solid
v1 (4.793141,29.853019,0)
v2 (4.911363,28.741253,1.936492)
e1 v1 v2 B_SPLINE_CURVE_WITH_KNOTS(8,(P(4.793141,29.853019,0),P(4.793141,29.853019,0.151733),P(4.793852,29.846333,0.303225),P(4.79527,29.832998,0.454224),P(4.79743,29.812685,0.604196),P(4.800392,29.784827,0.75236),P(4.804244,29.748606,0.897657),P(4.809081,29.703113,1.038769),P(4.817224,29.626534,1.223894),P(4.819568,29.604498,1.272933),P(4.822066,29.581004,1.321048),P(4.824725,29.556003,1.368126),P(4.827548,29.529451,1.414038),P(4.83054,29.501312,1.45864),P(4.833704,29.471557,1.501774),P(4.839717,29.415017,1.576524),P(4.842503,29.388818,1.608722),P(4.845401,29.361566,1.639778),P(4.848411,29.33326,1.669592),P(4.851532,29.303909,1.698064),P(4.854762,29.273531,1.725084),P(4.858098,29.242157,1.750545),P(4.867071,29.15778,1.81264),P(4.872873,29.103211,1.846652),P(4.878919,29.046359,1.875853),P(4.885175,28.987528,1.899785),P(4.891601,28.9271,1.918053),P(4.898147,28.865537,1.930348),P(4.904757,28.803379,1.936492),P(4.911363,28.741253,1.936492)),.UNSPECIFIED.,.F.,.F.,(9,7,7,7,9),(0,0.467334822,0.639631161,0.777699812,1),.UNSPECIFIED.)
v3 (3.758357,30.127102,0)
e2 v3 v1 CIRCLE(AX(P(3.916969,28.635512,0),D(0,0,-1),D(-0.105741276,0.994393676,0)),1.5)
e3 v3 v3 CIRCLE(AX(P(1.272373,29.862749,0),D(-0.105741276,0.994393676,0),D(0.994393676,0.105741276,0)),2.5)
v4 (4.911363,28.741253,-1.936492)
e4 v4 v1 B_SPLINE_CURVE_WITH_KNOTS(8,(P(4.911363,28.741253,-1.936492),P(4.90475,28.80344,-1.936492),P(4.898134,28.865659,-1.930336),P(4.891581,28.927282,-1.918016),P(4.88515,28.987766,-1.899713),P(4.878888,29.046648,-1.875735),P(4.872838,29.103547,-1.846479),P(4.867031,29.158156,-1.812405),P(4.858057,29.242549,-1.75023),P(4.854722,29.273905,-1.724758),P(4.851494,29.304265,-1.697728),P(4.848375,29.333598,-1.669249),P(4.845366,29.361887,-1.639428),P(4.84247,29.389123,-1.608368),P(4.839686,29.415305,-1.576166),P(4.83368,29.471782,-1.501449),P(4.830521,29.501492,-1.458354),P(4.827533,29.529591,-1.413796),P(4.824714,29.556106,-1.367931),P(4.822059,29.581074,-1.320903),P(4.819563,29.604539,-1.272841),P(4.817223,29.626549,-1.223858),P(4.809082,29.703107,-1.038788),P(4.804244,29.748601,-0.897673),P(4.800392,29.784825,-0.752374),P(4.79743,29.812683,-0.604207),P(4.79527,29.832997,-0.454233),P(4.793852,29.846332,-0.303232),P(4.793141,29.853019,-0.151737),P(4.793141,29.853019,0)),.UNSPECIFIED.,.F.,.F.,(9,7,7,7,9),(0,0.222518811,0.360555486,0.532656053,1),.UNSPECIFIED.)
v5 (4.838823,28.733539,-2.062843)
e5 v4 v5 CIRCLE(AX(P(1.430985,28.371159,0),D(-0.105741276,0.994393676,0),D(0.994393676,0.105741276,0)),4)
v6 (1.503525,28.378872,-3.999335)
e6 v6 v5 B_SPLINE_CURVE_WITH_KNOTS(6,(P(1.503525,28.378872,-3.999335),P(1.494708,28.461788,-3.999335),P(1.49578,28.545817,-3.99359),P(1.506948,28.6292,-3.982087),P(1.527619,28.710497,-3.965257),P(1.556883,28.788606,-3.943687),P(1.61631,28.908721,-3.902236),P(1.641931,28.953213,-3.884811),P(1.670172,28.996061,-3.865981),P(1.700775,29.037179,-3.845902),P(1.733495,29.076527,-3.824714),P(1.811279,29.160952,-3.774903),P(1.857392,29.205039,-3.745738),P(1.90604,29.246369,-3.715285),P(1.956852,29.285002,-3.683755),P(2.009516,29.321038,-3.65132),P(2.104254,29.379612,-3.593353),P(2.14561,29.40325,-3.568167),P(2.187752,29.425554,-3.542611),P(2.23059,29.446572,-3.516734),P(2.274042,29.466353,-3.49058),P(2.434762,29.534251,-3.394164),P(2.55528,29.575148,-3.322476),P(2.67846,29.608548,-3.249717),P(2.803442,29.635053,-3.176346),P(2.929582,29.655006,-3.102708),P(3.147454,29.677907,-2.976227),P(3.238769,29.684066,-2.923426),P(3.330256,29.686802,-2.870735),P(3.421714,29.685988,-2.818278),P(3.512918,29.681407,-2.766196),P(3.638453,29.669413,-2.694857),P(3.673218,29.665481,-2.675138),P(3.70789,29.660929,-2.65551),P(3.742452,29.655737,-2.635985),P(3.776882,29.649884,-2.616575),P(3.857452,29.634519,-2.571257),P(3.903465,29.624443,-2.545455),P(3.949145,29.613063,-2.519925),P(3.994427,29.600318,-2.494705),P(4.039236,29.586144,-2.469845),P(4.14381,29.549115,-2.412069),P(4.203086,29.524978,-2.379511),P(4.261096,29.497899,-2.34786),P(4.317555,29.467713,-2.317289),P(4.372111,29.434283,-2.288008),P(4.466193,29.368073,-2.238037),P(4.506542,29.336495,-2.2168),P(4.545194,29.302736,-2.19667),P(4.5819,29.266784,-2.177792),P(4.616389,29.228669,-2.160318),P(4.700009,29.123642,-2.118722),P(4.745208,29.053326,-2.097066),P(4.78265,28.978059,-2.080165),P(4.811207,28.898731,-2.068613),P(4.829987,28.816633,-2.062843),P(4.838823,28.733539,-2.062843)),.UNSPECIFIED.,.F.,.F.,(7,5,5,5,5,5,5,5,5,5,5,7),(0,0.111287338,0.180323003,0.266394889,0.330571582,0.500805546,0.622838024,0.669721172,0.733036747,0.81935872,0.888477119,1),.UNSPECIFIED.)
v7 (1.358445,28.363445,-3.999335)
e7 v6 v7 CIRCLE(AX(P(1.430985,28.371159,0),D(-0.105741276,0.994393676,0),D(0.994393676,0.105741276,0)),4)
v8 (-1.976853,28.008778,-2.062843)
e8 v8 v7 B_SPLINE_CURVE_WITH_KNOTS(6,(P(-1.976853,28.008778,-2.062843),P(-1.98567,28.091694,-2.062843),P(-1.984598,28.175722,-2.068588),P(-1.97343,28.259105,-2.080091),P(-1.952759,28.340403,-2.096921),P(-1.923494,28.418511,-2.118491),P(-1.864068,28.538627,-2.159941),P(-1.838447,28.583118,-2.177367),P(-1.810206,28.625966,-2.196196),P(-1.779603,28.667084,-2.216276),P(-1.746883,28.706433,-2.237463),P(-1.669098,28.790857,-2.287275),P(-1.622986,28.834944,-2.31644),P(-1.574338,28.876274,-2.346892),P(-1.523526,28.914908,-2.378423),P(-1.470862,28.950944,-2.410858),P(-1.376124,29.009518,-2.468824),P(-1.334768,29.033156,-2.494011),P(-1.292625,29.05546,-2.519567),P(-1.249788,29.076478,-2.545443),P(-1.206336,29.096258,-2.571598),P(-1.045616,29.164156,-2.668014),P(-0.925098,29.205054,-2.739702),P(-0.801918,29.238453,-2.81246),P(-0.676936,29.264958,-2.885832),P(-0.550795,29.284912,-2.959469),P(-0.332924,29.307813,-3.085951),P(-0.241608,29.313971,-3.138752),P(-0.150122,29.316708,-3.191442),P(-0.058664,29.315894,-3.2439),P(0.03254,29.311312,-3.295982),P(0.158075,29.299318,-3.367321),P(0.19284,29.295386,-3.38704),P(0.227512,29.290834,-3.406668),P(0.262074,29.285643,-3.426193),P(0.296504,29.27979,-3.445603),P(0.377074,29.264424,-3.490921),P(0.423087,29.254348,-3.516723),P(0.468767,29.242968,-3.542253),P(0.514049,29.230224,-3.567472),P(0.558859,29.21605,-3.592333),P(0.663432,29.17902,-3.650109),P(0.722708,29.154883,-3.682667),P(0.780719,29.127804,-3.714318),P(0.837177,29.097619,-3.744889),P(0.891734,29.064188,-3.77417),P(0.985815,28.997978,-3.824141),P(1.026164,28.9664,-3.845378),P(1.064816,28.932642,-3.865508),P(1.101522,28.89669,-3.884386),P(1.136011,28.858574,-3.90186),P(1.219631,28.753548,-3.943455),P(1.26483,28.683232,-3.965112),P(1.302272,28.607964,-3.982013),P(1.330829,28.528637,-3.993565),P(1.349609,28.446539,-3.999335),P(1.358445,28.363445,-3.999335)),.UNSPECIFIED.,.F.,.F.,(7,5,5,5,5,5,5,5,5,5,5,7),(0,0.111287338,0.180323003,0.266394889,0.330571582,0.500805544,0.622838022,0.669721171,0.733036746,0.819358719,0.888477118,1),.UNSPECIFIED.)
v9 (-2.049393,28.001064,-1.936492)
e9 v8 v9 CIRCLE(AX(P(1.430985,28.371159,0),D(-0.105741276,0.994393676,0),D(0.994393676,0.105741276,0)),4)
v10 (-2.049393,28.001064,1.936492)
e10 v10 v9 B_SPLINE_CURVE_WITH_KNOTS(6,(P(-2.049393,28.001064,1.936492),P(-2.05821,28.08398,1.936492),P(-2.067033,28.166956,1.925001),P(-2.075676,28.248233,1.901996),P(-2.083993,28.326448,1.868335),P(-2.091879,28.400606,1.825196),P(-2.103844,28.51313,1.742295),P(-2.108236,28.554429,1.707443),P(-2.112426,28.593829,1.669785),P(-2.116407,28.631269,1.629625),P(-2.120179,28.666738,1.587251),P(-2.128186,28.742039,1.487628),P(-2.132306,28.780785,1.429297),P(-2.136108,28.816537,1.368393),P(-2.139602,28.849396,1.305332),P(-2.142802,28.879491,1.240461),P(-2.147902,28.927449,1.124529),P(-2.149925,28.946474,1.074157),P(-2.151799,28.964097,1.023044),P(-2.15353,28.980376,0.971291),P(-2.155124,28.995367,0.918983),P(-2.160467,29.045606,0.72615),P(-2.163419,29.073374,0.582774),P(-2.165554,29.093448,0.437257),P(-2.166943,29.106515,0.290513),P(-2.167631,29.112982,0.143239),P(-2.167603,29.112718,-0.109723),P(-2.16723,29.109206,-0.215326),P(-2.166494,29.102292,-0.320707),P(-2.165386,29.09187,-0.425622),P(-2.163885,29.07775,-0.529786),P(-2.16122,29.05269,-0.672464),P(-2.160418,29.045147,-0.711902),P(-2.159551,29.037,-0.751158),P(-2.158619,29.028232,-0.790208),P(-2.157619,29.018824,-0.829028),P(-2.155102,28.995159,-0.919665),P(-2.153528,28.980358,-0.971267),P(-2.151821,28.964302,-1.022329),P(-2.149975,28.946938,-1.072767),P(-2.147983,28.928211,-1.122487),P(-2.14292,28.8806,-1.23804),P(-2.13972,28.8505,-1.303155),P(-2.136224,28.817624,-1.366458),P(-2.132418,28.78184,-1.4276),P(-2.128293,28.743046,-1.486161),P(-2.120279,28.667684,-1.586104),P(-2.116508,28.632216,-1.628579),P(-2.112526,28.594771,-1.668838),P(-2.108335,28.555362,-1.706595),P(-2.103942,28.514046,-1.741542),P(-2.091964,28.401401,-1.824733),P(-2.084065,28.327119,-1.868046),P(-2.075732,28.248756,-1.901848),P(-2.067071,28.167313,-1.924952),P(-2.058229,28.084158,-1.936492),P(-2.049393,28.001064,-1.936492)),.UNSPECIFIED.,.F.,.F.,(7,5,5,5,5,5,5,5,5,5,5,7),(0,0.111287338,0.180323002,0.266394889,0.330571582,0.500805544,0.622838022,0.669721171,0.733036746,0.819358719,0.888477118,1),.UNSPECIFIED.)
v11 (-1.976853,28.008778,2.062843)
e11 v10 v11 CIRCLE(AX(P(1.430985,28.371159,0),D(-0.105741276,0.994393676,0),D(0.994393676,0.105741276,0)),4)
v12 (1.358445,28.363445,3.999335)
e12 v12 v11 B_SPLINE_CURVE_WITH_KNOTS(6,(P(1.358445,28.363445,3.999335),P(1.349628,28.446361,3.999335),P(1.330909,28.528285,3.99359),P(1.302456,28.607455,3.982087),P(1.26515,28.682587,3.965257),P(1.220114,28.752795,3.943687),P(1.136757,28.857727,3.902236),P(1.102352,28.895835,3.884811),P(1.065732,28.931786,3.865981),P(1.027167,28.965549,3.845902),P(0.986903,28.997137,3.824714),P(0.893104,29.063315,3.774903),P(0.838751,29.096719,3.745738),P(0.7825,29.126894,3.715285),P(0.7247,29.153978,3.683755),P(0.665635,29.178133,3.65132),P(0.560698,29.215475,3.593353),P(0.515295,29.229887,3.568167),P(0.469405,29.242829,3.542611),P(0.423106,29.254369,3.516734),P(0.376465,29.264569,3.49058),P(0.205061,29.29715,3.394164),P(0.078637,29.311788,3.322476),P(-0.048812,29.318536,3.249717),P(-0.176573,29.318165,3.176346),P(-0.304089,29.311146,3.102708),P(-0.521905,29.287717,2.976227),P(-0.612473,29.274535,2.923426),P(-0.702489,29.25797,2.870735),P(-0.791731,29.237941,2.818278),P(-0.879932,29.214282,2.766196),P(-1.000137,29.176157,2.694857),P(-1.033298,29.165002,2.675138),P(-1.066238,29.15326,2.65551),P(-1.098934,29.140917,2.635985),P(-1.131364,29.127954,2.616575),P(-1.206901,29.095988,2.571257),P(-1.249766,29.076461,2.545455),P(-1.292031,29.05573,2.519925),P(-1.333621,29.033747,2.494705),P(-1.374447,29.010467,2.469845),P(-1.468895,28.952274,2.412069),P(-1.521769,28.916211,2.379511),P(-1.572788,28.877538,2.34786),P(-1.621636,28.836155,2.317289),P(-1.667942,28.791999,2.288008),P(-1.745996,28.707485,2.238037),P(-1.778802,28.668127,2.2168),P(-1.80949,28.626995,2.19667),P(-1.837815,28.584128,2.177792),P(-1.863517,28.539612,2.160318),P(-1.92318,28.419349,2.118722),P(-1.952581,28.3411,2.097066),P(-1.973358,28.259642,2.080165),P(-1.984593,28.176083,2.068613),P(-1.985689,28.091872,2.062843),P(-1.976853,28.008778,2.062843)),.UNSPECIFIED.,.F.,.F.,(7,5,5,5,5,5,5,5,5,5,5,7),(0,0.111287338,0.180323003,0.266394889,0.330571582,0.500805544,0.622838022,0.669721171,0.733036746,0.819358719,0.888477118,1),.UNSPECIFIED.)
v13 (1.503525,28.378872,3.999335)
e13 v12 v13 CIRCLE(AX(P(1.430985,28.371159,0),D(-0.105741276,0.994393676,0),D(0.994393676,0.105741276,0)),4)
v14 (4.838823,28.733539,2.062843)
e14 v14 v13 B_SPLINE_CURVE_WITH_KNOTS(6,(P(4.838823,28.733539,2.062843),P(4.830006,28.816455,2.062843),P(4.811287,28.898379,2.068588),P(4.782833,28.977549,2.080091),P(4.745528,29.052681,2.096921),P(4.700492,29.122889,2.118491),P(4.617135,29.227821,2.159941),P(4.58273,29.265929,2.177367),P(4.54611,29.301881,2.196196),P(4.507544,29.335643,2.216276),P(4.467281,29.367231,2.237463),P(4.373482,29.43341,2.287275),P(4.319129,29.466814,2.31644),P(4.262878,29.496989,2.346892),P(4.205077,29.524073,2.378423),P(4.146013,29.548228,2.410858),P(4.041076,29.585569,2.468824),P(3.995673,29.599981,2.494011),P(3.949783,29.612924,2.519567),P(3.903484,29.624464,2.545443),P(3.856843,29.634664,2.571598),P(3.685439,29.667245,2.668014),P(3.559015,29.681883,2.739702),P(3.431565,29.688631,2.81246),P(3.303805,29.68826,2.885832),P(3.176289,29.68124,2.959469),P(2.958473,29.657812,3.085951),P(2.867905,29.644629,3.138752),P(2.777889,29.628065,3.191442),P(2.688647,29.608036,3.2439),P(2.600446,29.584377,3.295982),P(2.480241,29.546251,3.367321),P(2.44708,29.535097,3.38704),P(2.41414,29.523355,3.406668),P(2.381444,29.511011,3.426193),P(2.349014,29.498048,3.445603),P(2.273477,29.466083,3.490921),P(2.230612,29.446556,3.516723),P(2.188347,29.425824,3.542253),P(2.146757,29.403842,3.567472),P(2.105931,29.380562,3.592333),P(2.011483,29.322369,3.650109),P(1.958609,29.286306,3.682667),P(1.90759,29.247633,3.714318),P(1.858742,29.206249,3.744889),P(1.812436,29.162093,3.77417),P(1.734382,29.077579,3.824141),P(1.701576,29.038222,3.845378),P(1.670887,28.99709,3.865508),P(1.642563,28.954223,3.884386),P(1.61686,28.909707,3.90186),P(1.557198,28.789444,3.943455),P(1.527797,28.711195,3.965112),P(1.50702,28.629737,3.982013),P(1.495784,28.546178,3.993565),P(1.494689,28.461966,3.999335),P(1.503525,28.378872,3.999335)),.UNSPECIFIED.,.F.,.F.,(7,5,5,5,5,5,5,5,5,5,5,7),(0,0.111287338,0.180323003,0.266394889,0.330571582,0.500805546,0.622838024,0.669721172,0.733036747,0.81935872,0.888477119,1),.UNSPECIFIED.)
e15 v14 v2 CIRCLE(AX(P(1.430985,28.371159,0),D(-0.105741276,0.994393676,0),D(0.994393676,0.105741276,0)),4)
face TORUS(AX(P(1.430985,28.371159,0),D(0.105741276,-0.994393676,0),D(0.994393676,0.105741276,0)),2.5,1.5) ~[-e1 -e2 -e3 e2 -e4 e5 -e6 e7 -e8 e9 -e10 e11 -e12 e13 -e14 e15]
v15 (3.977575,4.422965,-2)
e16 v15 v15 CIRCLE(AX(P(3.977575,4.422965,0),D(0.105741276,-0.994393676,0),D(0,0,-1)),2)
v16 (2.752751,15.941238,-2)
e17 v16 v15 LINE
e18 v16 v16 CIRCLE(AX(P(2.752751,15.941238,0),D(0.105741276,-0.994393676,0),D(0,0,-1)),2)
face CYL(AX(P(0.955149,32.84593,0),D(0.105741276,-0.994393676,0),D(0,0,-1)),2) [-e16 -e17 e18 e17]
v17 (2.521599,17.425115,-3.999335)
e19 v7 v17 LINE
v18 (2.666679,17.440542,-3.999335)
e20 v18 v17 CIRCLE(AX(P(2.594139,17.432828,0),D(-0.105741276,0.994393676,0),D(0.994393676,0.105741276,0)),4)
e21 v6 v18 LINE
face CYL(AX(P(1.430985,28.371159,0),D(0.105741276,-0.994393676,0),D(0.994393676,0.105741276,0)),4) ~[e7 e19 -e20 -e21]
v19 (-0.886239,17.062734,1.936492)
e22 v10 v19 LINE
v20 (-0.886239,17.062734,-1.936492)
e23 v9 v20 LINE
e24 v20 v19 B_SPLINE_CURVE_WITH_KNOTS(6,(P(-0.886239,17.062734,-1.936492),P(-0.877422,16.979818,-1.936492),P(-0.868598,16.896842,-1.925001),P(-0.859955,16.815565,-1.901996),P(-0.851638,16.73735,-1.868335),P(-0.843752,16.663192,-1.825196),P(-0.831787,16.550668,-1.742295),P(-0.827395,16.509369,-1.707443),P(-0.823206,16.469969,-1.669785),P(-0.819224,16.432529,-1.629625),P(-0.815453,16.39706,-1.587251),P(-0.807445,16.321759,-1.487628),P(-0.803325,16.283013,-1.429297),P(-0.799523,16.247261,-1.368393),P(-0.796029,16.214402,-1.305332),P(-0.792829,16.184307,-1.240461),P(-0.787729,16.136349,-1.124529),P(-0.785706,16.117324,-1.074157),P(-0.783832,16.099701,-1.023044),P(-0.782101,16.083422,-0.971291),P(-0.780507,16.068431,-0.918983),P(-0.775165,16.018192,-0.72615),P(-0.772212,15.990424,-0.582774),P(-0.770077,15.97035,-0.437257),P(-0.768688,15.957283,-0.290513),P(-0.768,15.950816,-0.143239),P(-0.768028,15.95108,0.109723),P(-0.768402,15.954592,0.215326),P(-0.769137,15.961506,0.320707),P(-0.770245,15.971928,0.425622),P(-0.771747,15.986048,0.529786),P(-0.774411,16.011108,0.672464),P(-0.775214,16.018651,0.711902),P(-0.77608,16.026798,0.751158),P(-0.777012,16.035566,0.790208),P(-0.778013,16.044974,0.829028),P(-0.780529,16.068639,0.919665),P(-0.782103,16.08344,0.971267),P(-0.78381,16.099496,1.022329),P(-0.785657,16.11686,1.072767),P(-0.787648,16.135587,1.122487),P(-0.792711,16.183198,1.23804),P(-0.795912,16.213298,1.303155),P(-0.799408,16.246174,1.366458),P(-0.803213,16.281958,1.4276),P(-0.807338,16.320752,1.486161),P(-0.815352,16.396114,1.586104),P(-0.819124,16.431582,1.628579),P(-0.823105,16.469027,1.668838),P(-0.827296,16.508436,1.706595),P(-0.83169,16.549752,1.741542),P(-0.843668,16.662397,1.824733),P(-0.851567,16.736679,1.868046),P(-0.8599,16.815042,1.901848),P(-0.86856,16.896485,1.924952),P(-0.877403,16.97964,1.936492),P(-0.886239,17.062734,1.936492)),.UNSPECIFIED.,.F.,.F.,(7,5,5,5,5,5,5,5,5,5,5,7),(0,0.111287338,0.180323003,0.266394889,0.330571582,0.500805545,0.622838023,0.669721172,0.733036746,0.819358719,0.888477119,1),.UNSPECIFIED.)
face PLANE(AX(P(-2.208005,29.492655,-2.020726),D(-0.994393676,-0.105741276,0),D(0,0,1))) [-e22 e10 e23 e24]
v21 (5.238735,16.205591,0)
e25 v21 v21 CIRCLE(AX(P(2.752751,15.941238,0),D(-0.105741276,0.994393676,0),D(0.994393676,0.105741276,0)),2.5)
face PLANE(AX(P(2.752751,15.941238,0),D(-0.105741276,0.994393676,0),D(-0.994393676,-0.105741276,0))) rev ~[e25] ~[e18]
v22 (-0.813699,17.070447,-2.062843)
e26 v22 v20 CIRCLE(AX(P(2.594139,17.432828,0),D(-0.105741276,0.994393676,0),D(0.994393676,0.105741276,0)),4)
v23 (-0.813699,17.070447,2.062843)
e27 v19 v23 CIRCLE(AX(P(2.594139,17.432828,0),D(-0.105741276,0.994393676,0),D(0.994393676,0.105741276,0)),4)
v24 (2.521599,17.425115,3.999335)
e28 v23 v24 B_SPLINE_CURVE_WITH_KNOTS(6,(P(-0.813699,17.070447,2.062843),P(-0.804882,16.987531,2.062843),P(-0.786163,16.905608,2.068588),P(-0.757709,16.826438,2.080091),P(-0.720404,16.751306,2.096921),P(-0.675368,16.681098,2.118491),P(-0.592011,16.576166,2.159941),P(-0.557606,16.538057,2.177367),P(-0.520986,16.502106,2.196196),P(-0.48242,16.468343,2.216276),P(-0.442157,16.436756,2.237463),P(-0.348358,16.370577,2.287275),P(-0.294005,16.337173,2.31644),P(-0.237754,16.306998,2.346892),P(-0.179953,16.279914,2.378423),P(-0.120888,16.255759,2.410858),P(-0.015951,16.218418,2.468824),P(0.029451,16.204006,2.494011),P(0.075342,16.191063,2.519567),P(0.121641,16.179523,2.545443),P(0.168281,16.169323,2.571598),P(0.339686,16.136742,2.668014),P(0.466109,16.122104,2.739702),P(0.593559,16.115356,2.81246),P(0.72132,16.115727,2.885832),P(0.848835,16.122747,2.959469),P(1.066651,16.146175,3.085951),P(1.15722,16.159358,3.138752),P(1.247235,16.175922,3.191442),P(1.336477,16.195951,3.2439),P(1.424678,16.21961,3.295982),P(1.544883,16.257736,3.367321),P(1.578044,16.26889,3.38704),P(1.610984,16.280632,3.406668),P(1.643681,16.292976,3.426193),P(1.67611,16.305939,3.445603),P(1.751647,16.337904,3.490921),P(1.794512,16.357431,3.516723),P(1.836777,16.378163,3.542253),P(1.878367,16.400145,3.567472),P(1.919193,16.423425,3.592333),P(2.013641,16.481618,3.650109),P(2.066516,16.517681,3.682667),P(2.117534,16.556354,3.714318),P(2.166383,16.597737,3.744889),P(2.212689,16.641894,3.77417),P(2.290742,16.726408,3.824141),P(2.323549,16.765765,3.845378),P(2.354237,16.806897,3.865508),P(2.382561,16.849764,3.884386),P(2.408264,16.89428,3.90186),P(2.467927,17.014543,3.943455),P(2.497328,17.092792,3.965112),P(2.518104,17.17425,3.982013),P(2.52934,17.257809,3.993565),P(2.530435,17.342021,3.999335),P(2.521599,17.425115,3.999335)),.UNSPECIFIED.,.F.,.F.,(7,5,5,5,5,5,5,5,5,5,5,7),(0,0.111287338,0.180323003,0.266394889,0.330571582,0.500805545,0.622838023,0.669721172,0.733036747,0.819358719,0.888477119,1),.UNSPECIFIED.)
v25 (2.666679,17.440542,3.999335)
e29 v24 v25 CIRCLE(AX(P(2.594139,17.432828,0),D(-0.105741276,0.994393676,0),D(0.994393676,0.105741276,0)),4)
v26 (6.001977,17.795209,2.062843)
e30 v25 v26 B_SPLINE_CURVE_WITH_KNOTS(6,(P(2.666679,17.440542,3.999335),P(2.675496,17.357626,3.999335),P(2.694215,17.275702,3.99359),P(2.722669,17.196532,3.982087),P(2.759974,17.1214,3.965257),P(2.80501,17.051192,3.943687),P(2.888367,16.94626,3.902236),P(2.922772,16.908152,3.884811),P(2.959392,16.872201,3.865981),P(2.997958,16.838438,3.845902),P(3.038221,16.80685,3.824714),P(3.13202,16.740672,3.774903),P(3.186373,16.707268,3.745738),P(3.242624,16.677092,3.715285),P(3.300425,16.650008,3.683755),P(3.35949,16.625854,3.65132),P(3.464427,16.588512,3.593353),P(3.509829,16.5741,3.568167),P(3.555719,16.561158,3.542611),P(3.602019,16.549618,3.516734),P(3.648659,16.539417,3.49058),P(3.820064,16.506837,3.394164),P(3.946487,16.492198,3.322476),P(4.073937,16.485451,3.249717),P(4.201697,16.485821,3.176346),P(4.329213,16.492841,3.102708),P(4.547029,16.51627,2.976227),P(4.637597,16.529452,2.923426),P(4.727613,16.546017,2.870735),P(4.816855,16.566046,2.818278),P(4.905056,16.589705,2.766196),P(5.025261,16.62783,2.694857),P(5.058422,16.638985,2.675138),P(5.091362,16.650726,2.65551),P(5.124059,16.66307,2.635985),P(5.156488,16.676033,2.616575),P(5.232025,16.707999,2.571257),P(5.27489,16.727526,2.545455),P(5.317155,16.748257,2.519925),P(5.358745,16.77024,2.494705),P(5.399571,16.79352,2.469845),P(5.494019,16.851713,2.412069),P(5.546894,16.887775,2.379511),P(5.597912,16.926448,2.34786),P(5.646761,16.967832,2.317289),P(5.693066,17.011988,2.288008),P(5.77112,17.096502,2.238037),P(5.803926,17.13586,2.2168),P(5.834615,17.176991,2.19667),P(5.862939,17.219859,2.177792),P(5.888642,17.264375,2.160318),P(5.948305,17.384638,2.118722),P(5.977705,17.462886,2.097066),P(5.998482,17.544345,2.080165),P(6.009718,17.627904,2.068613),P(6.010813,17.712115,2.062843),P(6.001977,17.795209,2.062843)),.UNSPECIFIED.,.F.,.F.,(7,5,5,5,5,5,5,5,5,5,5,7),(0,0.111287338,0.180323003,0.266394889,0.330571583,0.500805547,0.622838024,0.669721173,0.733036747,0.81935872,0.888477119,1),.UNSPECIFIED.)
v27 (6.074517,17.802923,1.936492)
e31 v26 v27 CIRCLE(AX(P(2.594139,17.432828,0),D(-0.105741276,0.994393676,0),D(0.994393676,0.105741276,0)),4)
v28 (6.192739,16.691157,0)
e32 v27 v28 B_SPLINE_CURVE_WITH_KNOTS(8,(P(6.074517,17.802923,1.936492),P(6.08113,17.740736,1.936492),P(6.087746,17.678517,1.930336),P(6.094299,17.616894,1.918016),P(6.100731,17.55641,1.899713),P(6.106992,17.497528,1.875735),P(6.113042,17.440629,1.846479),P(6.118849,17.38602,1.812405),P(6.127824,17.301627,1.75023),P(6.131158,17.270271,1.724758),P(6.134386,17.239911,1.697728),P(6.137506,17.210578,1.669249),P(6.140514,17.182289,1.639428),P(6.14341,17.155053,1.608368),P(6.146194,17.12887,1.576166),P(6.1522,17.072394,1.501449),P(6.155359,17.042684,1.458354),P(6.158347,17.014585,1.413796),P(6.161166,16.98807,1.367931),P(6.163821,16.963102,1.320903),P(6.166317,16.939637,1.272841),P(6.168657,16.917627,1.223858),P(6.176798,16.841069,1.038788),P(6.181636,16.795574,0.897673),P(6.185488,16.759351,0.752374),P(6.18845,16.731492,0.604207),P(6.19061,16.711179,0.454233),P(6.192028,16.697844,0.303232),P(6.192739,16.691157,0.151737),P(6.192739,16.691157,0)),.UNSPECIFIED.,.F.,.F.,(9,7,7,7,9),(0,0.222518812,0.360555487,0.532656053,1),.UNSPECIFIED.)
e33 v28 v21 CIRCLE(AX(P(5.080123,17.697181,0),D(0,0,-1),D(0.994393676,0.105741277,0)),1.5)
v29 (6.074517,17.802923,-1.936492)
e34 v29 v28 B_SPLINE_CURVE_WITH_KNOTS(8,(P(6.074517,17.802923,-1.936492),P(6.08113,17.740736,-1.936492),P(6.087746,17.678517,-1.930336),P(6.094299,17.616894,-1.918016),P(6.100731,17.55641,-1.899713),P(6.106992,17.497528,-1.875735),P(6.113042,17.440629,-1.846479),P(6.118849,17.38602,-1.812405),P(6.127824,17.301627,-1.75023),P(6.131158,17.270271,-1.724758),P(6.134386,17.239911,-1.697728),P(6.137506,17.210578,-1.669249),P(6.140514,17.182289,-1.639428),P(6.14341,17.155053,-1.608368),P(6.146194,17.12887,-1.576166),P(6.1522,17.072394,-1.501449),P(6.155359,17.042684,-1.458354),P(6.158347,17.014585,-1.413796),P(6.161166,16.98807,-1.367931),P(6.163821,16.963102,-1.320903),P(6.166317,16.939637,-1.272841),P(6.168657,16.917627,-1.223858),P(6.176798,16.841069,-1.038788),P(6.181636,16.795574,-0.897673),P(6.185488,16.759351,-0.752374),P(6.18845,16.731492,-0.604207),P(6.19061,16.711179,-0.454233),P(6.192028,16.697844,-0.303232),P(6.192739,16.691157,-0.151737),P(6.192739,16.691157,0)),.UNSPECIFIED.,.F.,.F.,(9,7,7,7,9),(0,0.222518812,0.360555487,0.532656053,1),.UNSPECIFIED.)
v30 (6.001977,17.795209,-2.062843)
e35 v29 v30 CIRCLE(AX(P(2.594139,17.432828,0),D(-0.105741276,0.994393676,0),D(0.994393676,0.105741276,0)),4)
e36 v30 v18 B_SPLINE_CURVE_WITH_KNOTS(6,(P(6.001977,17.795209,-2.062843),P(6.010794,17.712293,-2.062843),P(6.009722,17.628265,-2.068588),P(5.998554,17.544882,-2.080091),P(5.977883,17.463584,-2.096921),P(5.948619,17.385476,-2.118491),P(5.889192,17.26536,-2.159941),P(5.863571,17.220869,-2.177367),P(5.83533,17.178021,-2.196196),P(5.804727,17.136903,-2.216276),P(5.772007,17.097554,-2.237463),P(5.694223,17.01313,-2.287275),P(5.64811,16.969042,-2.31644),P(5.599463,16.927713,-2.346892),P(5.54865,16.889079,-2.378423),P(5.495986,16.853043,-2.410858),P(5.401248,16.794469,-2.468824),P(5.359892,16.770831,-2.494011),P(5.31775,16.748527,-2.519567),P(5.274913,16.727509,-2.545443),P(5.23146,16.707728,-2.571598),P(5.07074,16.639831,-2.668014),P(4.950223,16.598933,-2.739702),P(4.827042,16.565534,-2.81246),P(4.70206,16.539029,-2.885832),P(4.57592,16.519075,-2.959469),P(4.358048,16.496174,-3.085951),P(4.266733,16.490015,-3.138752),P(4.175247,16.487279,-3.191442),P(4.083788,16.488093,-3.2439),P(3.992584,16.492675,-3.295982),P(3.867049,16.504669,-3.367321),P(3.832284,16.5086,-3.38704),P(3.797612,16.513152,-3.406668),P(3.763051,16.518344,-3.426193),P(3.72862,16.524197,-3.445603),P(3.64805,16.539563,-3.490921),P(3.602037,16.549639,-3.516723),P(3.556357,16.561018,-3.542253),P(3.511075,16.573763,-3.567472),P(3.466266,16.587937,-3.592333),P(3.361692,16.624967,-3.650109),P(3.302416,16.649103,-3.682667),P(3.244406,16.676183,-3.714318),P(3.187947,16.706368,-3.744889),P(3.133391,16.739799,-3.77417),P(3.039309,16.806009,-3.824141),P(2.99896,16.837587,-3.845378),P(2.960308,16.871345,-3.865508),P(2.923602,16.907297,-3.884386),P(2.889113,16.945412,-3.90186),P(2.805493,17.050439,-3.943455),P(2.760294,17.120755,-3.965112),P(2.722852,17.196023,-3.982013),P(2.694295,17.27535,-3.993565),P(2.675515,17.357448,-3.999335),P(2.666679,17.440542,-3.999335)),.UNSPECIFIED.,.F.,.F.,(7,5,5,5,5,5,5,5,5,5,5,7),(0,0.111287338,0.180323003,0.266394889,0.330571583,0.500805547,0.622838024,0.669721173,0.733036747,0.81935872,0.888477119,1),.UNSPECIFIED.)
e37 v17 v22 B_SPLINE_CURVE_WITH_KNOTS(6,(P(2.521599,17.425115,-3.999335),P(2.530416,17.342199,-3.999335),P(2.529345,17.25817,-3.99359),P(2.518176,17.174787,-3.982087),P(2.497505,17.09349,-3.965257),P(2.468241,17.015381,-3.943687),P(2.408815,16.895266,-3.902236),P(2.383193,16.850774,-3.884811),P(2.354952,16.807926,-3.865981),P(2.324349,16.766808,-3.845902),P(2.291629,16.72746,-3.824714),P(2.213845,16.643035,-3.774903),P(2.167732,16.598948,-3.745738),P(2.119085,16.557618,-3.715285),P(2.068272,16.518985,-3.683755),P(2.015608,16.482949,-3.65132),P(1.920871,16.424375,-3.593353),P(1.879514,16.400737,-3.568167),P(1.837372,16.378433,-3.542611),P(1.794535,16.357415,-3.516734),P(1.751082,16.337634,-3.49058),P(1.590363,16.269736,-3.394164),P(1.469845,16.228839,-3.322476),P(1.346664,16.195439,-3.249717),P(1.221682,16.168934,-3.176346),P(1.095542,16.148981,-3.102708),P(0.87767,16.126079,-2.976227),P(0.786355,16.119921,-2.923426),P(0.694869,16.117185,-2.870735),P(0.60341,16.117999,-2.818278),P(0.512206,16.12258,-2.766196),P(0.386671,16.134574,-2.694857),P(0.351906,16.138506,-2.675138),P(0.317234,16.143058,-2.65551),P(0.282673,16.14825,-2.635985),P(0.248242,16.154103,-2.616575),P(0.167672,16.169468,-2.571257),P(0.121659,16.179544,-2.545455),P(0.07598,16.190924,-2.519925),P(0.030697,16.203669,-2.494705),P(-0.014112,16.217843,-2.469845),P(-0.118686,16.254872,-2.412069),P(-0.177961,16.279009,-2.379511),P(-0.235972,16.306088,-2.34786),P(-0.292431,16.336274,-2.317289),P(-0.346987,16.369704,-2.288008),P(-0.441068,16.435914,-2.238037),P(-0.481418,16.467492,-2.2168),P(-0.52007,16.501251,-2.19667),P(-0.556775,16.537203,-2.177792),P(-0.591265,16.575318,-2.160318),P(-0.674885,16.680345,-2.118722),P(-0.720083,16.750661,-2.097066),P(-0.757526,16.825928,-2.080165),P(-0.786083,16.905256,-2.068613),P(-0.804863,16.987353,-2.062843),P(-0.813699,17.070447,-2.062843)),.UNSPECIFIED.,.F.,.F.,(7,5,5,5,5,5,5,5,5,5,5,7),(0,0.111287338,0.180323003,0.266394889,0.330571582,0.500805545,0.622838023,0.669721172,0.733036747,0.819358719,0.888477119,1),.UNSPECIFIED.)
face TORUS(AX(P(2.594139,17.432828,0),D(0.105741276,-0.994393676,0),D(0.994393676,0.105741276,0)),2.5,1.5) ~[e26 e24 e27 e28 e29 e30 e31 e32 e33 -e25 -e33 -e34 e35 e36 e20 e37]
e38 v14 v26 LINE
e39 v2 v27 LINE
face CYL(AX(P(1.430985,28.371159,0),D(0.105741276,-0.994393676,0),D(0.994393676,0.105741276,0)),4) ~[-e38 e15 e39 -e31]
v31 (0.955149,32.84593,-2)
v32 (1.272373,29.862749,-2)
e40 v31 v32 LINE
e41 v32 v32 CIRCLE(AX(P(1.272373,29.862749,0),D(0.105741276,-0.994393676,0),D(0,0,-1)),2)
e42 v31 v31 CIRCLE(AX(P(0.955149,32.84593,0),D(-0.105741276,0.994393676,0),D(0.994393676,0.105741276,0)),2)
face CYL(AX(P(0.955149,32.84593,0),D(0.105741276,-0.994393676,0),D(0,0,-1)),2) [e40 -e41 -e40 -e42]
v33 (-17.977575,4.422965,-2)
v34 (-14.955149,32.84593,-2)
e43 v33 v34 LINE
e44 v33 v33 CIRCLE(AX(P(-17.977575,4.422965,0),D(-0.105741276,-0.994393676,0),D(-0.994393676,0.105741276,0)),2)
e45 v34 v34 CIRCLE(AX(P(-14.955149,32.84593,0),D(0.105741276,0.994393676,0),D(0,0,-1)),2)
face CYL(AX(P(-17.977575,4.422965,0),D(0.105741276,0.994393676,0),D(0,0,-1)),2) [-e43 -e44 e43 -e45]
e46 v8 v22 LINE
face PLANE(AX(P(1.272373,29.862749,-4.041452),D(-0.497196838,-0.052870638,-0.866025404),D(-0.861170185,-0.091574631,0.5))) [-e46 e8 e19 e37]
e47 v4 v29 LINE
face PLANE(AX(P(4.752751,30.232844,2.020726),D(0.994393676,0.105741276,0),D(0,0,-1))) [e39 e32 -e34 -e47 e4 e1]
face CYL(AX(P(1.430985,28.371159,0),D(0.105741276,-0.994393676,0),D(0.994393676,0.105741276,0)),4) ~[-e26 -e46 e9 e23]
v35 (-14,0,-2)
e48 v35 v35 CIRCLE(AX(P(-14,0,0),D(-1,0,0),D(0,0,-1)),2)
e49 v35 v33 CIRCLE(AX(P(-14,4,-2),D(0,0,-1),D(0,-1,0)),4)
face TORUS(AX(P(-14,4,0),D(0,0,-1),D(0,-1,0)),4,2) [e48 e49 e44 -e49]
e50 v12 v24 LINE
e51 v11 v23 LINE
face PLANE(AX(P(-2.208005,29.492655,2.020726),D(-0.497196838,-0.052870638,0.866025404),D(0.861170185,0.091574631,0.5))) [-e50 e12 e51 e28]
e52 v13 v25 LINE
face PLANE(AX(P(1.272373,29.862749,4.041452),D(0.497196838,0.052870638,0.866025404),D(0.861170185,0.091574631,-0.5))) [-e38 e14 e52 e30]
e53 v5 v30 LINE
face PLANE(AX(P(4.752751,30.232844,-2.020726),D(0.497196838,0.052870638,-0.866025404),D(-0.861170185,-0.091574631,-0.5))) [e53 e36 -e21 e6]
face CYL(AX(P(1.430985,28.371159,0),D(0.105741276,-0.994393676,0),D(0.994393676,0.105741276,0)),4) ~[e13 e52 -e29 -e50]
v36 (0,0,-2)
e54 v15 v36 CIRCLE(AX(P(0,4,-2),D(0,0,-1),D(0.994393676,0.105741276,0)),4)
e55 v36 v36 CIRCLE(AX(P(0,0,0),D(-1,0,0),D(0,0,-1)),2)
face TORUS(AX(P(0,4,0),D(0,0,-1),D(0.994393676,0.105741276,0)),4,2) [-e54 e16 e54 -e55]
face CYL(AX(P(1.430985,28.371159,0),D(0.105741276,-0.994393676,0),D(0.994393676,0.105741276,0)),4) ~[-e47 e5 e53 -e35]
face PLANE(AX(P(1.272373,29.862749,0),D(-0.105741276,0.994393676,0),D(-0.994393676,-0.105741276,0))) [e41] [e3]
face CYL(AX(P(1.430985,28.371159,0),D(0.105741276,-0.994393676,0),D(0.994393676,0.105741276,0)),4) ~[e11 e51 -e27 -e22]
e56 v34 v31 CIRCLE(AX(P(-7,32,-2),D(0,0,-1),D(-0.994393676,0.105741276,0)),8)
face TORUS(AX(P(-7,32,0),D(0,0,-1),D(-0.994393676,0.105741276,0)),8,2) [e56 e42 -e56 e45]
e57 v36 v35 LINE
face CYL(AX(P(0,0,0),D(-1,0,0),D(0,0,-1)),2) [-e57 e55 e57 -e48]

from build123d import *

# Parameters (mm, degrees)
SKETCH1_R           = 2
BOSS_EXTRUDE1_START = -3
BOSS_EXTRUDE1_DEPTH = 14


with BuildPart() as part:
    # Sweep1: sweep along a path in Sketch2
    with BuildLine(Plane.XY) as sweep1_path:
        Line((0, 0), (-14, 0))
        ThreePointArc((-14, 0), (-16.974210855, 1.325290709), (-17.977574703, 4.422965104))
        Line((-17.977574703, 4.422965104), (-14.955149407, 32.845930209))
        ThreePointArc((-14.955149407, 32.845930209), (-7, 40), (0.955149407, 32.845930209))
        Line((0.955149407, 32.845930209), (3.977574703, 4.422965104))
        ThreePointArc((3.977574703, 4.422965104), (2.974210855, 1.325290709), (0, 0))
    # Sketch1 → Sweep1 (sweep)
    with BuildSketch(Plane(origin=(0, 0, 0), x_dir=(0, 0, -1), z_dir=(1, 0, 0))):
        Circle(SKETCH1_R)
    sweep(path=sweep1_path.line)

    # Sketch3 → Boss-Extrude1 (add)
    with BuildSketch(Plane(origin=(0.955149407, 32.845930209, 0), x_dir=(-0.9943936758290052, -0.10574127610010836, 0), z_dir=(-0.10574127610010836, 0.9943936758290052, 0)).offset(BOSS_EXTRUDE1_START)):
        Polygon((-3.5, 2.020725942), (-3.5, -2.020725942), (0, -4.041451884), (3.5, -2.020725942), (3.5, 2.020725942), (0, 4.041451884), align=None)
    extrude(amount=-BOSS_EXTRUDE1_DEPTH)

    # Sketch4 → Cut-Revolve1 (revolve, cut)
    with BuildSketch(Plane.XY):
        with BuildLine():
            Line((5.408559852, 28.794123772), (6.571713889, 17.855793338))
            ThreePointArc((6.571713889, 17.855793338), (6.246992703, 16.754623217), (5.23873529, 16.20559091))
            Line((5.23873529, 16.20559091), (5.408559852, 15.997851403))
            Line((5.408559852, 15.997851403), (9.687431561, 16.483117418))
            Line((9.687431561, 16.483117418), (7.699236532, 34.014185327))
            Line((7.699236532, 34.014185327), (3.310720243, 33.417080039))
            Line((3.310720243, 33.417080039), (3.758357425, 30.127102372))
            ThreePointArc((3.758357425, 30.127102372), (4.859527546, 29.802381185), (5.408559852, 28.794123772))
        make_face()
    revolve(axis=Axis((3.977574703, 4.422965104, 0), (-0.10574127610010838, 0.9943936758290052, 0)), mode=Mode.SUBTRACT)


solid = part.part
